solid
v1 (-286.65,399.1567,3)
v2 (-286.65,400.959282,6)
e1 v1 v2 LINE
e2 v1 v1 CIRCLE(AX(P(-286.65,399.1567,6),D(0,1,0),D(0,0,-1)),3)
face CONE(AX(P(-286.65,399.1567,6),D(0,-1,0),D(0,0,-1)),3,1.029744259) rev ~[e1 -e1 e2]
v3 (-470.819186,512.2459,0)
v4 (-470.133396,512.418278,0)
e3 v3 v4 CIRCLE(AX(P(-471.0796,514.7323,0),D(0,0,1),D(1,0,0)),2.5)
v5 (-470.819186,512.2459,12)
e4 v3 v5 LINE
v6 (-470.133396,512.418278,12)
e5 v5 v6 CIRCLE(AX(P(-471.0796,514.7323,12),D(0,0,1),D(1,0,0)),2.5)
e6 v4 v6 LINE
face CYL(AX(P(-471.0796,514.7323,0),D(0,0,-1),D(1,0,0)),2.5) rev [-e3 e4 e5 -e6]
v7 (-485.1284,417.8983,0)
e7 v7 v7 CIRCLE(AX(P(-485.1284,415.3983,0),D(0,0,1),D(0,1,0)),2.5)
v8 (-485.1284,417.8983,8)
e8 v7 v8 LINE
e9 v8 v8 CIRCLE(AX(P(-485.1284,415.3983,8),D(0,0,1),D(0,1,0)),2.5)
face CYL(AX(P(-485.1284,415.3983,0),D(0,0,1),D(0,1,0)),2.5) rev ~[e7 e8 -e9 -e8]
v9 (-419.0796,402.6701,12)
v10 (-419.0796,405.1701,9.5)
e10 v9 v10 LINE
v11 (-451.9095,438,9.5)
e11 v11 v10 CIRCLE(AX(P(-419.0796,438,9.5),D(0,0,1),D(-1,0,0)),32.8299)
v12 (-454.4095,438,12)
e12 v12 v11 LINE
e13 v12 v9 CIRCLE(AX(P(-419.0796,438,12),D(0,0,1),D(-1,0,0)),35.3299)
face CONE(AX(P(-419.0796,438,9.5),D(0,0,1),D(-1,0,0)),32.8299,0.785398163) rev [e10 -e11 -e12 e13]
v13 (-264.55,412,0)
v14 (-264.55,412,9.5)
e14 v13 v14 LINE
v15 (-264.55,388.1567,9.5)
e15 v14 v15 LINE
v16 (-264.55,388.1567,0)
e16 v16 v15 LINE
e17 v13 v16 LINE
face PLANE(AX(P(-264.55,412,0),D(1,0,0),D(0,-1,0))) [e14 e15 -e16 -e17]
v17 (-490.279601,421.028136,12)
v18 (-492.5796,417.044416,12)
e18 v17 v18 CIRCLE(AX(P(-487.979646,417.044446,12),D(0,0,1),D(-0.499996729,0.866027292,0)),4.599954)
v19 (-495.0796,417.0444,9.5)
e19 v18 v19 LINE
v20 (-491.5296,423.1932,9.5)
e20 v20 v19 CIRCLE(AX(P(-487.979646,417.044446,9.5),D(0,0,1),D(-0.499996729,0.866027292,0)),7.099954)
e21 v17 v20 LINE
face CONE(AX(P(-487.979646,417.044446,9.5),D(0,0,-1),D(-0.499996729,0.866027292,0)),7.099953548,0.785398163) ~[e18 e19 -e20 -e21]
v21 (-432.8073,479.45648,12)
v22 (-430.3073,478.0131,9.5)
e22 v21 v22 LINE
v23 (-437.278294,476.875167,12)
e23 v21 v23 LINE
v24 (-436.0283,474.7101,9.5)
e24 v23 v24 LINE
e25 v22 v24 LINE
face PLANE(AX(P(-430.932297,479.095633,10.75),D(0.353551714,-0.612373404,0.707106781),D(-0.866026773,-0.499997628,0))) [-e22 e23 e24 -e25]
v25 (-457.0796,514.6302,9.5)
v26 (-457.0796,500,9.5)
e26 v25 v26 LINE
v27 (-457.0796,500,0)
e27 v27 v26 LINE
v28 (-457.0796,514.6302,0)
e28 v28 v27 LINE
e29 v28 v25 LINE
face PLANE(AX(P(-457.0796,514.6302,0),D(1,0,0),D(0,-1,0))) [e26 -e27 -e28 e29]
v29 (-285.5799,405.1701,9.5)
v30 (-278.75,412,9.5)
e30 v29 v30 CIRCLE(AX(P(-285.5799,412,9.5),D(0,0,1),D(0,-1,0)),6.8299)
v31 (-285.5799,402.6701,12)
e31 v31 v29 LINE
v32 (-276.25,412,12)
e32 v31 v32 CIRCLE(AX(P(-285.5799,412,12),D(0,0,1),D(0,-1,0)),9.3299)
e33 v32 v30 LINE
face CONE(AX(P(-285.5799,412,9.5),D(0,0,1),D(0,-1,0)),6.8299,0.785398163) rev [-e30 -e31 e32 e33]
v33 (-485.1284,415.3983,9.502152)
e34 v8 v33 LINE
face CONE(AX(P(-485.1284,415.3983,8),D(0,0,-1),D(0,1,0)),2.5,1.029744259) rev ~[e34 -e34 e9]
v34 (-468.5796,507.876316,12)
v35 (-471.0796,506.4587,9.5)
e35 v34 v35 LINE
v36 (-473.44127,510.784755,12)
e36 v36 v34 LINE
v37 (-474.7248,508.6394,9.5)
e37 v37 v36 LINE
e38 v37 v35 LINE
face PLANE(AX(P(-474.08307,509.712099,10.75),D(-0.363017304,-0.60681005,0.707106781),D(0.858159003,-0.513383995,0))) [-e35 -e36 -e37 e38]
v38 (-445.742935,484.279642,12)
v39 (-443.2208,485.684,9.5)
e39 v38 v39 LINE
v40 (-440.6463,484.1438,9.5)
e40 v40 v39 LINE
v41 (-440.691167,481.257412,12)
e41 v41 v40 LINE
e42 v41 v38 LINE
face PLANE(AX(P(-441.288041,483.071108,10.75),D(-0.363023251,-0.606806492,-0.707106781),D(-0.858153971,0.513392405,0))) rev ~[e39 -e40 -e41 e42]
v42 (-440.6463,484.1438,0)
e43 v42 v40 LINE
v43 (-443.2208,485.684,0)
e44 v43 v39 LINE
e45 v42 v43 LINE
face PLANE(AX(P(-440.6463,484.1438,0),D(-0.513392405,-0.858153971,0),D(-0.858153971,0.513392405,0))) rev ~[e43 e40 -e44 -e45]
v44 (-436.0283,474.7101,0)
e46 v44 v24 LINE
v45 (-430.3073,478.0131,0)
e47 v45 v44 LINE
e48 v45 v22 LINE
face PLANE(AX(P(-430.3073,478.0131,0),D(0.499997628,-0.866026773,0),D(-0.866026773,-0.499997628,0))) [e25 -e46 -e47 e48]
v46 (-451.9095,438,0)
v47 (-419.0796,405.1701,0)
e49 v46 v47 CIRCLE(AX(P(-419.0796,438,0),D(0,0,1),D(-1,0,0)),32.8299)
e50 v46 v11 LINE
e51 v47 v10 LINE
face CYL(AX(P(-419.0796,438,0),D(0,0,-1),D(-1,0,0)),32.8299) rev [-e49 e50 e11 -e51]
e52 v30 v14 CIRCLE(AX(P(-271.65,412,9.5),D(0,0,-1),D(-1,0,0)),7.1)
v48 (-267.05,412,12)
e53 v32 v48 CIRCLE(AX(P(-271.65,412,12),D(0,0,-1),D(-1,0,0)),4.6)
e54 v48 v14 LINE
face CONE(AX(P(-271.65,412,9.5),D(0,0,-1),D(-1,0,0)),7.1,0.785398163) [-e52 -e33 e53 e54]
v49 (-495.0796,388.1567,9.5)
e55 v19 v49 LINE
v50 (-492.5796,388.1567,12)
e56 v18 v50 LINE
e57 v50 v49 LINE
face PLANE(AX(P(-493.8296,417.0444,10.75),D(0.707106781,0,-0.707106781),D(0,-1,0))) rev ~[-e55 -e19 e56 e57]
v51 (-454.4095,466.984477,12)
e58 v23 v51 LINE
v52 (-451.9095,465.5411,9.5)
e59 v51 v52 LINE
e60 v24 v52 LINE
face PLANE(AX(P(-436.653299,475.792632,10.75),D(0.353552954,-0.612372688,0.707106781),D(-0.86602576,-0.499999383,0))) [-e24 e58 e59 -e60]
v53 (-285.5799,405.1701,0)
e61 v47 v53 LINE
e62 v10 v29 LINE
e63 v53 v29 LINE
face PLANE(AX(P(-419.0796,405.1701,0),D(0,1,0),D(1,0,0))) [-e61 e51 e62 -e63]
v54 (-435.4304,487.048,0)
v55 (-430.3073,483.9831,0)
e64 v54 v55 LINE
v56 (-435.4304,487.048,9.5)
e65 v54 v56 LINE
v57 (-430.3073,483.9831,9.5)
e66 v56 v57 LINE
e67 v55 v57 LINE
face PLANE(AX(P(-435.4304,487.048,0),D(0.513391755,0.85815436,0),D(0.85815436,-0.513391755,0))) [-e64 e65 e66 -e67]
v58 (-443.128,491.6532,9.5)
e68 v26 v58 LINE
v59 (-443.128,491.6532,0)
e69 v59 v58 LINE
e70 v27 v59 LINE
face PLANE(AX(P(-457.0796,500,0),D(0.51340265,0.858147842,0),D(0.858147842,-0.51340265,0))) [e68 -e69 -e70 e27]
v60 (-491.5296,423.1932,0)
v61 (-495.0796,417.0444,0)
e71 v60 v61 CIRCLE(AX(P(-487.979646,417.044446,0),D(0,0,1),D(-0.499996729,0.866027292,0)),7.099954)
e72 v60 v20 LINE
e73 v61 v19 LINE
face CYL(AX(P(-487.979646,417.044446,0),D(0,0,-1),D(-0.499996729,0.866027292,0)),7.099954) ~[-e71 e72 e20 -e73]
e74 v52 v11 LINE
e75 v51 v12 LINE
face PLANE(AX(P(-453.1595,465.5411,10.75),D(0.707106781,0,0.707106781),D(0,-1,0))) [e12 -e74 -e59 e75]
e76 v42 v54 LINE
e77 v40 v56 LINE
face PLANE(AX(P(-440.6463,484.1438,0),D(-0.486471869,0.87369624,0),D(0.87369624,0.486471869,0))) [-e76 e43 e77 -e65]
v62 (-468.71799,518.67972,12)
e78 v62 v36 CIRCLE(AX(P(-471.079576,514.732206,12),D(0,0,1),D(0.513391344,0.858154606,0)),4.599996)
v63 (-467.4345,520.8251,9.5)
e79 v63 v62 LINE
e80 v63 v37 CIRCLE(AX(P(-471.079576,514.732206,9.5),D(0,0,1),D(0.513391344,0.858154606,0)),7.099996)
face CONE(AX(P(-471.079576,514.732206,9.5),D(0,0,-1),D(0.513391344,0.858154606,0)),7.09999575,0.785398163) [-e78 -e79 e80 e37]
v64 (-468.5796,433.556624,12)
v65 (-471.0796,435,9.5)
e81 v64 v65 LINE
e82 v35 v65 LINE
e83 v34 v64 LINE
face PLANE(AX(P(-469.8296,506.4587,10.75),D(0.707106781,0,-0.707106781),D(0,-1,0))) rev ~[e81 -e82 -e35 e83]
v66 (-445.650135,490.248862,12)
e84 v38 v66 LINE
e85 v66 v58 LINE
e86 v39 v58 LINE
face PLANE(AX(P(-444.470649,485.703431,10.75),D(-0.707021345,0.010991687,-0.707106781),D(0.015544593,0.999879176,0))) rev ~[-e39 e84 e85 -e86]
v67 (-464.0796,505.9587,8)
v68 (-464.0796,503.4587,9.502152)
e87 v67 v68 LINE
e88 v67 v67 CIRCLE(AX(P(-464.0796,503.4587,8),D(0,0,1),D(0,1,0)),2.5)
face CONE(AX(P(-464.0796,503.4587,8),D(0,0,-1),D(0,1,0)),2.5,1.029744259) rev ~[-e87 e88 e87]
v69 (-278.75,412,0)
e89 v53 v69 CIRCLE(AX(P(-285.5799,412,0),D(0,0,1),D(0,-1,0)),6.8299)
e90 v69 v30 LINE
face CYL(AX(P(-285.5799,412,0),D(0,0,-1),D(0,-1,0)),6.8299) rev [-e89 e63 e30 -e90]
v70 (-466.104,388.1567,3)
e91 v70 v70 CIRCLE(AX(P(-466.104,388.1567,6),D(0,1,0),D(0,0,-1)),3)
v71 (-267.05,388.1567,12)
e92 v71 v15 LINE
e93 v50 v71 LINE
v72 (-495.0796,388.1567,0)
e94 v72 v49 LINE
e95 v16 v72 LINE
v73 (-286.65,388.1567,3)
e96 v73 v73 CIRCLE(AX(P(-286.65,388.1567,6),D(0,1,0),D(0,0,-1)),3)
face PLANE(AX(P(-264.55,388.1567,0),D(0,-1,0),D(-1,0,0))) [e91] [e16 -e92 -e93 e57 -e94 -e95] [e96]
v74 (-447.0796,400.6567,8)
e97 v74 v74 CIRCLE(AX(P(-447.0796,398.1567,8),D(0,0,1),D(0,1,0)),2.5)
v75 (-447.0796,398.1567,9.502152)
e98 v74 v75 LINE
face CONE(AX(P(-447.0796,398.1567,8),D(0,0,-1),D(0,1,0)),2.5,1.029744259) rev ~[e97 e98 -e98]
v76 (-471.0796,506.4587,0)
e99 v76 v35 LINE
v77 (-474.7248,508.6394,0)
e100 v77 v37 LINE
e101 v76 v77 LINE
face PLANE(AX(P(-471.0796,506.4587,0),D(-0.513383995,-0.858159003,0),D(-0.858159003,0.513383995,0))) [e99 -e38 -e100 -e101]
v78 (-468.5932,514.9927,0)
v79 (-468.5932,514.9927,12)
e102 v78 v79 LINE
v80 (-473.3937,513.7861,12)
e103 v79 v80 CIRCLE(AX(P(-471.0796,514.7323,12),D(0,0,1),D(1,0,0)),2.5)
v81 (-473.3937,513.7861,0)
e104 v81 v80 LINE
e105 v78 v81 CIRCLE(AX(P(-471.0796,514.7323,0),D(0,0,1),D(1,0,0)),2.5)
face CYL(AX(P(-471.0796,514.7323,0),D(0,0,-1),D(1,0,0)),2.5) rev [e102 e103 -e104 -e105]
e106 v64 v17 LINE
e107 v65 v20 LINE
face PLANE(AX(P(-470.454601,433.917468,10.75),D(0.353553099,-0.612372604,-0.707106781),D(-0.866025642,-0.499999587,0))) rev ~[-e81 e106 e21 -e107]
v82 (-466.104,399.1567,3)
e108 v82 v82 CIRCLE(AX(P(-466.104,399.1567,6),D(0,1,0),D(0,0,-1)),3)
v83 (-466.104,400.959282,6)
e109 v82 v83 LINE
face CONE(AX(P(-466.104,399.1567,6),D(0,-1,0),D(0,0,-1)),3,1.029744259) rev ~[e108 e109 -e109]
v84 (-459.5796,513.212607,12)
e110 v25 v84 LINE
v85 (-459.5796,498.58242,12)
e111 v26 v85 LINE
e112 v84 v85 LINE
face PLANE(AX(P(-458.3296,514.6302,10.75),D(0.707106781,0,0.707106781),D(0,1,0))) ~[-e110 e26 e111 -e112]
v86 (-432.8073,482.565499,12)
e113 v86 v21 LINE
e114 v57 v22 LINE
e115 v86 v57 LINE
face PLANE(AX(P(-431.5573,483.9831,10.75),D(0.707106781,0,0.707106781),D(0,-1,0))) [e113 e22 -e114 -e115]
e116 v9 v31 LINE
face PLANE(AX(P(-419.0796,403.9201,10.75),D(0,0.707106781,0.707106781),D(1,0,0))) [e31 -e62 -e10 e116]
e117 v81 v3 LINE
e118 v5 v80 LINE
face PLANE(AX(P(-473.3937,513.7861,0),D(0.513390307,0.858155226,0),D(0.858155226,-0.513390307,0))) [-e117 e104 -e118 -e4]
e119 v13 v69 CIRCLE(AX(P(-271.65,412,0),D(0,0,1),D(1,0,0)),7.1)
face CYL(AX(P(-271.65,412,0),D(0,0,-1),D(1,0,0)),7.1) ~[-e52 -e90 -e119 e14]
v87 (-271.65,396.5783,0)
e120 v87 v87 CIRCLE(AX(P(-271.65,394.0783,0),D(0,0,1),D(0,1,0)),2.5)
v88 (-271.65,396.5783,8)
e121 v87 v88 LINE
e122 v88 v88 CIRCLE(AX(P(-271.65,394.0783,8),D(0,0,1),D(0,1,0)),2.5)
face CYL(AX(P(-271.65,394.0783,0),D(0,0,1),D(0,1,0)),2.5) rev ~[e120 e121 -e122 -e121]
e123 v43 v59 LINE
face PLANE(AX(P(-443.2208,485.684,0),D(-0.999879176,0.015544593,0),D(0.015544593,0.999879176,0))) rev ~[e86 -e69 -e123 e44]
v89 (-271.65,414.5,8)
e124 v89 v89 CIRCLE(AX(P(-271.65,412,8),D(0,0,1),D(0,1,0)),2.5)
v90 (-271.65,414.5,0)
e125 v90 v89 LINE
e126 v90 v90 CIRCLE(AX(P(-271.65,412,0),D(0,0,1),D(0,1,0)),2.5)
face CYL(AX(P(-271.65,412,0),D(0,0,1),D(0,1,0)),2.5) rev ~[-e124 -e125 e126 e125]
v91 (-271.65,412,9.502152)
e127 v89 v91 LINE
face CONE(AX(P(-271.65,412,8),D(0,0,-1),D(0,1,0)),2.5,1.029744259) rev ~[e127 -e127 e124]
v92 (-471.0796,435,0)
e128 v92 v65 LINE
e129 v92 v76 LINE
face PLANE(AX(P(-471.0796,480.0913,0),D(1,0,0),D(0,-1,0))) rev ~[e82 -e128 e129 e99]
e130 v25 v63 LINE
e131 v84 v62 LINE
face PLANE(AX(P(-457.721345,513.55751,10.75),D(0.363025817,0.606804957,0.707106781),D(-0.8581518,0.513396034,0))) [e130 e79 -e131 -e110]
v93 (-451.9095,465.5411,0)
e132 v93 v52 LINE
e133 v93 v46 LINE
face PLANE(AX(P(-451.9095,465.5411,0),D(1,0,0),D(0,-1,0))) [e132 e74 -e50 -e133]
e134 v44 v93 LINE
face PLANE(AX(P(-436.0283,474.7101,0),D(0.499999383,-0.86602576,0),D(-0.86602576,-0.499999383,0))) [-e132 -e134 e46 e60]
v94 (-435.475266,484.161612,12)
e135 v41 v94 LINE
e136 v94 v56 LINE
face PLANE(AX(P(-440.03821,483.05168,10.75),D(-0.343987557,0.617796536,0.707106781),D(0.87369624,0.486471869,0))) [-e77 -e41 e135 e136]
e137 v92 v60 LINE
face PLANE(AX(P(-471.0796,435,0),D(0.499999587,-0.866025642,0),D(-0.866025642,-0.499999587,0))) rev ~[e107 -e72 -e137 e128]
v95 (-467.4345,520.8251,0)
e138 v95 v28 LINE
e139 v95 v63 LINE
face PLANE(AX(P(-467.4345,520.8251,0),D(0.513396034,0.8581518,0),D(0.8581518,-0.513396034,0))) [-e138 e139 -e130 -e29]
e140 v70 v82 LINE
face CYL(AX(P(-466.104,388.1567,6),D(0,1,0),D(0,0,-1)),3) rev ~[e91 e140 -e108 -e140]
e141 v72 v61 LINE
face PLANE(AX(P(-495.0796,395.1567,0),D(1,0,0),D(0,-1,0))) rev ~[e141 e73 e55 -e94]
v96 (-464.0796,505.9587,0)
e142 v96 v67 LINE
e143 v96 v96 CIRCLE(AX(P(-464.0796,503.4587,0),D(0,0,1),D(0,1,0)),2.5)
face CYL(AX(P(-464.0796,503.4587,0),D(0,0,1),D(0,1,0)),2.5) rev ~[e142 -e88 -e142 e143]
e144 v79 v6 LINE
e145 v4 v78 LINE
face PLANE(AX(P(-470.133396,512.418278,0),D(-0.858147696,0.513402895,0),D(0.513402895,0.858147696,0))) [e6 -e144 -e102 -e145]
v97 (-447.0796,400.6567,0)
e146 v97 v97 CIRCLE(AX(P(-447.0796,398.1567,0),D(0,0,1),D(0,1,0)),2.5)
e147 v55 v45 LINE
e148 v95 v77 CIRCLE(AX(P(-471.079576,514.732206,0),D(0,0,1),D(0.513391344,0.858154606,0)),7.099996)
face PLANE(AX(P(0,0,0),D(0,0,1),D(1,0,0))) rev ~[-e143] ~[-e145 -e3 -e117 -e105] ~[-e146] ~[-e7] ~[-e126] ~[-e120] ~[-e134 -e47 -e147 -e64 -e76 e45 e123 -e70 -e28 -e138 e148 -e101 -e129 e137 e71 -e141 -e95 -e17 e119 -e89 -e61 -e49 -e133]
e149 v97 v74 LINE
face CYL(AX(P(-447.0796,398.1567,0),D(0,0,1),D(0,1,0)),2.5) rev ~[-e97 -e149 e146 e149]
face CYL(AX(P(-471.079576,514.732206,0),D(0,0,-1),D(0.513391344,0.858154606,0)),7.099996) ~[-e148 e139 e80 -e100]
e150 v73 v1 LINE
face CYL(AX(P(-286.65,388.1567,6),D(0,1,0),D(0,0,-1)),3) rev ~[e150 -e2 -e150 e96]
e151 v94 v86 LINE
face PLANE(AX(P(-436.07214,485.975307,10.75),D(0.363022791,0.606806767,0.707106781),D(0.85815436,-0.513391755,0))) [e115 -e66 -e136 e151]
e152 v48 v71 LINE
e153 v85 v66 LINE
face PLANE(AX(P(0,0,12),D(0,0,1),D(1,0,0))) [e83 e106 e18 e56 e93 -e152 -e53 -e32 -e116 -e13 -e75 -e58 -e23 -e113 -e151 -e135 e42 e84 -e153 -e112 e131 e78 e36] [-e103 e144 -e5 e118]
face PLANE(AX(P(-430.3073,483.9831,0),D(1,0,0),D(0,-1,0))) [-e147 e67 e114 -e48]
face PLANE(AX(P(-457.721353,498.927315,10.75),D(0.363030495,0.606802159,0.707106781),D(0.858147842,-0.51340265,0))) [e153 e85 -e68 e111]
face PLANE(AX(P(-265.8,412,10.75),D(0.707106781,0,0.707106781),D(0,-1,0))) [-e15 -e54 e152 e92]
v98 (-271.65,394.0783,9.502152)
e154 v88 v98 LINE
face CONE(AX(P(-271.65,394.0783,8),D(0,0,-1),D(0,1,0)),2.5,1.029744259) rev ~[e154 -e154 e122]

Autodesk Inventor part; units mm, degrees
ref_plane "YZ Plane" through (0, 0, 0) normal (1, 0, 0) x (0, 1, 0)
ref_plane "XZ Plane" through (0, 0, 0) normal (0, 1, 0) x (-1, 0, 0)
ref_plane "XY Plane" through (0, 0, 0) normal (0, 0, 1) x (1, 0, 0)
sketch "Sketch3" plane through (0, 0, 0) normal (0, 0, 1) x (1, 0, 0)
  circle A0 centre (367.816, 50) radius 50 construction
  line L0 (367.816, 0) -> (512.7041, 0) construction
  line L1 (367.816, 50) -> (512.7041, 50) construction
  line L2 (367.816, 100) -> (512.7041, 100) construction
  line L3 (367.816, 50) -> (342.816, 6.6987) construction
  line L4 (367.816, 50) -> (324.5147, 25) construction
  line L5 (367.816, 50) -> (324.5147, 75) construction
  line L6 (342.816, 93.3013) -> (367.816, 50) construction
  line L7 (392.816, 93.3013) -> (367.816, 50) construction
  line L8 (411.1173, 75) -> (367.816, 50) construction
  line L9 (411.1173, 25) -> (367.816, 50) construction
  line L10 (392.816, 6.6987) -> (367.816, 50) construction
  line L11 (367.816, 0) -> (367.816, 100) construction
  line L12 (417.816, 50) -> (367.816, 50) construction
  line L13 (341.6361, 0) -> (341.6361, 100) construction
  line L14 (315.4561, 0) -> (315.4561, 100) construction
  line L15 (289.2762, 0) -> (289.2762, 100) construction
  line L16 (263.0963, 0) -> (263.0963, 100) construction
  line L17 (236.9163, 0) -> (236.9163, 100) construction
  line L18 (210.7364, 0) -> (210.7364, 100) construction
  line L19 (184.5564, 0) -> (184.5564, 100) construction
  line L20 (158.3765, 0) -> (158.3765, 100) construction
  circle A1 centre (315.4561, 50) radius 50 construction
  circle A2 centre (341.6361, 50) radius 50 construction
  circle A3 centre (289.2762, 50) radius 50 construction
  circle A4 centre (263.0963, 50) radius 50 construction
  circle A5 centre (236.9163, 50) radius 50 construction
  circle A6 centre (210.7364, 50) radius 50 construction
  line L21 (392.816, 6.6987) -> (512.7041, 6.6987) construction
  line L22 (411.1173, 25) -> (512.7041, 25) construction
  line L23 (411.1173, 75) -> (512.7041, 75) construction
  line L24 (411.1173, 75) -> (512.7041, 75) construction
  line L25 (392.816, 93.3013) -> (512.7041, 93.3013) construction
  line L26 (358.7574, 75) -> (339.2762, 50) construction
  line L27 (339.2762, 50) -> (306.3975, 25) construction
  line L28 (306.3975, 25) -> (261.9163, 6.6987) construction
  line L29 (261.9163, 6.6987) -> (210.7364, 0) construction
  line L30 (105.3682, -12.9392) -> (105.3682, 124.4333) construction
  line L31 (21.25, 0) -> (21.25, 12)
  line L32 (35.45, 12) -> (35.45, -11.8433)
  arc A7 (0, 0) -> (6.625, -9.8433) centre (10.625, 0) ccw
  arc A8 (14.625, -9.8433) -> (21.25, 0) centre (10.625, 0) ccw
  line L33 (35.45, -11.8433) -> (14.625, -11.8433)
  line L34 (6.625, -11.8433) -> (-195.0796, -11.8433)
  circle A9 centre (-144.26, 100.8473) radius 12.875 construction
  line L35 (6.625, -11.8433) -> (6.625, -9.8433)
  line L36 (14.625, -11.8433) -> (14.625, -9.8433)
  line L37 (411.1173, 75) -> (158.3765, 75) construction
  line L38 (367.816, 100) -> (158.3765, 100) construction
  line L39 (417.816, 50) -> (158.3765, 50) construction
  line L40 (411.1173, 25) -> (158.3765, 25) construction
  line L41 (392.816, 6.6987) -> (158.3765, 6.6987) construction
  line L42 (392.816, 93.3013) -> (158.3765, 93.3013) construction
  line L43 (358.7574, 75) -> (366.6361, 93.3013) construction
  line L44 (366.6361, 93.3013) -> (367.816, 100) construction
  spline S0 degree 4 poles (-157.0796, 100) (-157.0796, 88.9946) (-147.011, 72.6811) (-131.8577, 48.7932) (-88.4777, 17.6268) (-50.0176, 3.937) (-18.8717, 0) (0, 0) knots 0 0 0 0 0 0.264547 0.457223 0.66608 1 1 1 1 1
  line L45 (-157.0796, 100) -> (-157.0796, 38) construction
  line L46 (0, 0) -> (-157.0796, 0) construction
  line L47 (-144.26, 100.8473) -> (-157.135, 100.8473) construction
  circle A10 centre (-146.4546, 100) radius 10.625 construction
  line L48 (-146.4546, 100) -> (-157.0796, 100) construction
  line L49 (-141.0754, 84.4005) -> (-135.6205, 93.5183) construction
  line L50 (-141.0796, 132.0528) -> (-171.0796, 149.3733) construction
  line L51 (-171.0796, 149.3733) -> (-201.0796, 132.0528) construction
  line L52 (-141.0754, 84.4005) -> (-99.2801, 84.4005) construction
  line L53 (-201.0796, 132.0528) -> (-201.0796, 97.4118) construction
  line L54 (-201.0796, 97.4118) -> (-171.0796, 80.0913) construction
  line L55 (0, 0) -> (-157.0796, 93.9753) construction
  line L56 (-135.6205, 93.5183) -> (-137.3368, 94.5451) construction
  line L57 (-137.3368, 94.5451) -> (-143.2815, 84.6085) construction
  line L58 (-137.3368, 94.5451) -> (-171.0796, 114.7323) construction
  line L59 (-201.0796, 132.0528) -> (-171.0796, 114.7323) construction
  arc A11 (-137.3368, 94.5451) -> (-144.7045, 143.8948) centre (-171.0796, 114.7323) ccw construction
  arc A12 (-142.7917, 85.4273) -> (-147.1443, 147.6882) centre (-171.0796, 114.7323) ccw construction
  line L60 (-171.0796, 80.0913) -> (-171.0796, 35)
  circle A13 centre (-171.0796, 114.7323) radius 2.5
  arc A14 (-167.4345, 120.8251) -> (-174.7248, 108.6394) centre (-171.0796, 114.7323) ccw
  line L61 (-167.4345, 120.8251) -> (-157.0796, 114.6302)
  line L62 (-171.0796, 80.0913) -> (-171.0796, 106.4587)
  line L63 (-171.0796, 106.4587) -> (-174.7248, 108.6394)
  line L64 (-171.0796, 35) -> (-191.5296, 23.1932)
  arc A15 (-191.5296, 23.1932) -> (-195.0796, 17.0444) centre (-187.9796, 17.0444) ccw
  line L65 (-195.0796, 17.0444) -> (-195.0796, -11.8433)
  arc A16 (35.45, 12) -> (21.25, 12) centre (28.35, 12) ccw
  line L66 (-157.0796, 114.6302) -> (-157.0796, 99.9865)
  circle A17 centre (-164.0796, 103.4587) radius 2.5
  line L67 (-171.0796, 103.4587) -> (-157.0796, 103.4587) construction
  circle A18 centre (-185.1284, 15.3983) radius 2.5
  line L68 (-185.1284, 15.3983) -> (-194.1284, 20.5944) construction
  circle A19 centre (-6, -5.9217) radius 2.5
  line L69 (-6, -11.8433) -> (-6, 0) construction
  circle A20 centre (28.35, 12) radius 2.5
  circle A21 centre (28.35, -5.9217) radius 2.5
  line L70 (-167.4345, 320.8251) -> (-157.0796, 314.6302)
  arc A22 (-167.4345, 320.8251) -> (-174.7248, 308.6394) centre (-171.0796, 314.7323) ccw
  circle A23 centre (-171.0796, 314.7323) radius 2.5
  line L71 (-171.0796, 280.0913) -> (-171.0796, 306.4587)
  line L72 (-171.0796, 306.4587) -> (-174.7248, 308.6394)
  line L73 (-157.0796, 314.6302) -> (-157.0796, 299.9865)
  circle A24 centre (-164.0796, 303.4587) radius 2.5
  spline S1 degree 4 poles (-157.0796, 300) (-157.0796, 288.9946) (-147.0234, 272.6841) (-124.1789, 236.7977) (-70.8039, 208.0704) (-31.8865, 200.2943) (0, 200) knots 0 0 0 0 0 0.264547 0.457223 1 1 1 1 1 construction
  line L74 (-157.0796, 300) -> (-157.0796, 238) construction
  arc A25 (0, 200) -> (6.625, 190.1567) centre (10.625, 200) ccw
  line L75 (35.45, 212) -> (35.45, 188.1567)
  circle A26 centre (28.35, 212) radius 2.5
  circle A27 centre (28.35, 194.0783) radius 2.5
  arc A28 (35.45, 212) -> (21.25, 212) centre (28.35, 212) ccw
  line L76 (21.25, 200) -> (21.25, 212)
  line L77 (35.45, 188.1567) -> (14.625, 188.1567)
  arc A29 (14.625, 190.1567) -> (21.25, 200) centre (10.625, 200) ccw
  line L78 (14.625, 188.1567) -> (14.625, 190.1567)
  line L79 (-185.1284, 215.3983) -> (-194.1284, 220.5944) construction
  arc A30 (-191.5296, 223.1932) -> (-195.0796, 217.0444) centre (-187.9796, 217.0444) ccw
  line L80 (-195.0796, 217.0444) -> (-195.0796, 188.1567)
  line L81 (-171.0796, 235) -> (-191.5296, 223.1932)
  circle A31 centre (-185.1284, 215.3983) radius 2.5
  line L82 (-171.0796, 280.0913) -> (-171.0796, 235)
  line L83 (6.625, 188.1567) -> (-195.0796, 188.1567)
  line L84 (6.625, 188.1567) -> (6.625, 190.1567)
  line L85 (-137.3368, 294.5451) -> (-143.2815, 284.6085) construction
  line L86 (-141.0754, 284.4005) -> (-135.6205, 293.5183) construction
  line L87 (0, 200) -> (-157.0796, 293.9753)
  line L88 (-167.4345, 520.8251) -> (-157.0796, 514.6302)
  arc A32 (-167.4345, 520.8251) -> (-174.7248, 508.6394) centre (-171.0796, 514.7323) ccw
  circle A33 centre (-171.0796, 514.7323) radius 2.5
  line L89 (-171.0796, 480.0913) -> (-171.0796, 506.4587)
  line L90 (-171.0796, 506.4587) -> (-174.7248, 508.6394)
  line L91 (-157.0796, 514.6302) -> (-157.0796, 499.9865)
  circle A34 centre (-164.0796, 503.4587) radius 2.5
  spline S2 degree 4 poles (-157.0796, 500) (-157.0796, 488.9946) (-147.0234, 472.6841) (-124.1789, 436.7977) (-70.8039, 408.0704) (-31.8865, 400.2943) (0, 400) knots 0 0 0 0 0 0.264547 0.457223 1 1 1 1 1 construction
  line L92 (-157.0796, 500) -> (-157.0796, 438)
  arc A35 (0, 400) -> (6.625, 390.1567) centre (10.625, 400) ccw
  line L93 (35.45, 412) -> (35.45, 388.1567)
  circle A36 centre (28.35, 412) radius 2.5
  circle A37 centre (28.35, 394.0783) radius 2.5
  arc A38 (35.45, 412) -> (21.25, 412) centre (28.35, 412) ccw
  line L94 (21.25, 400) -> (21.25, 412)
  line L95 (35.45, 388.1567) -> (14.625, 388.1567)
  arc A39 (14.625, 390.1567) -> (21.25, 400) centre (10.625, 400) ccw
  line L96 (14.625, 388.1567) -> (14.625, 390.1567)
  line L97 (-185.1284, 415.3983) -> (-194.1284, 420.5944) construction
  arc A40 (-191.5296, 423.1932) -> (-195.0796, 417.0444) centre (-187.9796, 417.0444) ccw
  line L98 (-195.0796, 417.0444) -> (-195.0796, 388.1567)
  line L99 (-171.0796, 435) -> (-191.5296, 423.1932)
  circle A41 centre (-185.1284, 415.3983) radius 2.5
  line L100 (-171.0796, 480.0913) -> (-171.0796, 435)
  line L101 (6.625, 388.1567) -> (-195.0796, 388.1567)
  line L102 (6.625, 388.1567) -> (6.625, 390.1567)
  line L103 (-137.3368, 494.5451) -> (-143.2815, 484.6085) construction
  line L104 (-141.0754, 484.4005) -> (-135.6205, 493.5183) construction
  line L105 (0, 400) -> (-157.0796, 493.9753) construction
  line L106 (-467.4345, 120.8251) -> (-457.0796, 114.6302)
  arc A42 (-467.4345, 120.8251) -> (-474.7248, 108.6394) centre (-471.0796, 114.7323) ccw
  circle A43 centre (-471.0796, 114.7323) radius 2.5
  line L107 (-471.0796, 80.0913) -> (-471.0796, 106.4587)
  line L108 (-471.0796, 106.4587) -> (-474.7248, 108.6394)
  line L109 (-457.0796, 114.6302) -> (-457.0796, 99.9865)
  circle A44 centre (-464.0796, 103.4587) radius 2.5
  spline S3 degree 4 poles (-457.0796, 100) (-457.0796, 88.9946) (-447.0234, 72.6841) (-424.1789, 36.7977) (-370.8039, 8.0704) (-331.8865, 0.2943) (-300, 0) knots 0 0 0 0 0 0.264547 0.457223 1 1 1 1 1 construction
  line L110 (-457.0796, 100) -> (-457.0796, 38) construction
  arc A45 (-300, 0) -> (-293.375, -9.8433) centre (-289.375, 0) ccw construction
  line L111 (-264.55, 12) -> (-264.55, -11.8433)
  circle A46 centre (-271.65, 12) radius 2.5
  circle A47 centre (-271.65, -5.9217) radius 2.5
  arc A48 (-264.55, 12) -> (-278.75, 12) centre (-271.65, 12) ccw
  line L112 (-278.75, 0) -> (-278.75, 12) construction
  line L113 (-264.55, -11.8433) -> (-285.375, -11.8433)
  arc A49 (-285.375, -9.8433) -> (-278.75, 0) centre (-289.375, 0) ccw construction
  line L114 (-285.375, -11.8433) -> (-285.375, -9.8433) construction
  line L115 (-485.1284, 15.3983) -> (-494.1284, 20.5944) construction
  arc A50 (-491.5296, 23.1932) -> (-495.0796, 17.0444) centre (-487.9796, 17.0444) ccw
  line L116 (-495.0796, 17.0444) -> (-495.0796, -11.8433)
  line L117 (-471.0796, 35) -> (-491.5296, 23.1932)
  circle A51 centre (-485.1284, 15.3983) radius 2.5
  line L118 (-471.0796, 80.0913) -> (-471.0796, 35)
  line L119 (-293.375, -11.8433) -> (-495.0796, -11.8433)
  line L120 (-293.375, -11.8433) -> (-293.375, -9.8433) construction
  line L121 (-437.3368, 94.5451) -> (-443.2815, 84.6085) construction
  line L122 (-441.0754, 84.4005) -> (-435.6205, 93.5183) construction
  line L123 (-300, 0) -> (-457.0796, 93.9753) construction
  line L124 (-467.4345, 320.8251) -> (-457.0796, 314.6302)
  arc A52 (-467.4345, 320.8251) -> (-474.7248, 308.6394) centre (-471.0796, 314.7323) ccw
  circle A53 centre (-471.0796, 314.7323) radius 2.5
  line L125 (-471.0796, 280.0913) -> (-471.0796, 306.4587)
  line L126 (-471.0796, 306.4587) -> (-474.7248, 308.6394)
  line L127 (-457.0796, 314.6302) -> (-457.0796, 299.9865)
  circle A54 centre (-464.0796, 303.4587) radius 2.5
  spline S4 degree 4 poles (-457.0796, 300) (-457.0796, 288.9946) (-447.0234, 272.6841) (-424.1789, 236.7977) (-370.8039, 208.0704) (-331.8865, 200.2943) (-300, 200) knots 0 0 0 0 0 0.264547 0.457223 1 1 1 1 1 construction
  line L128 (-457.0796, 300) -> (-457.0796, 238) construction
  arc A55 (-300, 200) -> (-293.375, 190.1567) centre (-289.375, 200) ccw construction
  line L129 (-264.55, 212) -> (-264.55, 188.1567)
  circle A56 centre (-271.65, 212) radius 2.5
  circle A57 centre (-271.65, 194.0783) radius 2.5
  arc A58 (-264.55, 212) -> (-278.75, 212) centre (-271.65, 212) ccw
  line L130 (-278.75, 200) -> (-278.75, 212) construction
  line L131 (-264.55, 188.1567) -> (-285.375, 188.1567)
  arc A59 (-285.375, 190.1567) -> (-278.75, 200) centre (-289.375, 200) ccw construction
  line L132 (-285.375, 188.1567) -> (-285.375, 190.1567) construction
  line L133 (-485.1284, 215.3983) -> (-494.1284, 220.5944) construction
  arc A60 (-491.5296, 223.1932) -> (-495.0796, 217.0444) centre (-487.9796, 217.0444) ccw
  line L134 (-495.0796, 217.0444) -> (-495.0796, 188.1567)
  line L135 (-471.0796, 235) -> (-491.5296, 223.1932)
  circle A61 centre (-485.1284, 215.3983) radius 2.5
  line L136 (-471.0796, 280.0913) -> (-471.0796, 235)
  line L137 (-293.375, 188.1567) -> (-495.0796, 188.1567)
  line L138 (-293.375, 188.1567) -> (-293.375, 190.1567) construction
  line L139 (-437.3368, 294.5451) -> (-443.2815, 284.6085) construction
  line L140 (-441.0754, 284.4005) -> (-435.6205, 293.5183) construction
  line L141 (-300, 200) -> (-457.0796, 293.9753) construction
  line L142 (-467.4345, 520.8251) -> (-457.0796, 514.6302)
  arc A62 (-467.4345, 520.8251) -> (-474.7248, 508.6394) centre (-471.0796, 514.7323) ccw
  circle A63 centre (-471.0796, 514.7323) radius 2.5
  line L143 (-471.0796, 480.0913) -> (-471.0796, 506.4587)
  line L144 (-471.0796, 506.4587) -> (-474.7248, 508.6394)
  line L145 (-457.0796, 514.6302) -> (-457.0796, 499.9865)
  circle A64 centre (-464.0796, 503.4587) radius 2.5
  spline S5 degree 4 poles (-457.0796, 500) (-457.0796, 488.9946) (-447.0234, 472.6841) (-424.1789, 436.7977) (-370.8039, 408.0704) (-331.8865, 400.2943) (-300, 400) knots 0 0 0 0 0 0.264547 0.457223 1 1 1 1 1 construction
  line L146 (-457.0796, 500) -> (-457.0796, 438) construction
  arc A65 (-300, 400) -> (-293.375, 390.1567) centre (-289.375, 400) ccw construction
  line L147 (-264.55, 412) -> (-264.55, 388.1567)
  circle A66 centre (-271.65, 412) radius 2.5
  circle A67 centre (-271.65, 394.0783) radius 2.5
  arc A68 (-264.55, 412) -> (-278.75, 412) centre (-271.65, 412) ccw
  line L148 (-278.75, 400) -> (-278.75, 412) construction
  line L149 (-264.55, 388.1567) -> (-285.375, 388.1567)
  arc A69 (-285.375, 390.1567) -> (-278.75, 400) centre (-289.375, 400) ccw construction
  line L150 (-285.375, 388.1567) -> (-285.375, 390.1567) construction
  line L151 (-485.1284, 415.3983) -> (-494.1284, 420.5944) construction
  arc A70 (-491.5296, 423.1932) -> (-495.0796, 417.0444) centre (-487.9796, 417.0444) ccw
  line L152 (-495.0796, 417.0444) -> (-495.0796, 388.1567)
  line L153 (-471.0796, 435) -> (-491.5296, 423.1932)
  circle A71 centre (-485.1284, 415.3983) radius 2.5
  line L154 (-471.0796, 480.0913) -> (-471.0796, 435)
  line L155 (-293.375, 388.1567) -> (-495.0796, 388.1567)
  line L156 (-293.375, 388.1567) -> (-293.375, 390.1567) construction
  line L157 (-437.3368, 494.5451) -> (-443.2815, 484.6085) construction
  line L158 (-441.0754, 484.4005) -> (-435.6205, 493.5183) construction
  line L159 (-300, 400) -> (-457.0796, 493.9753) construction
  line L160 (-435.4304, 87.048) -> (-430.3073, 83.9831)
  line L161 (-430.3073, 83.9831) -> (-430.3073, 78.0131)
  line L162 (-457.0796, 100) -> (-443.128, 91.6532)
  line L163 (-443.2208, 85.684) -> (-443.128, 91.6532)
  line L164 (-440.6463, 84.1438) -> (-435.4304, 87.048)
  line L165 (-440.6463, 84.1438) -> (-443.2208, 85.684)
  line L166 (-430.3073, 78.0131) -> (-436.0283, 74.7101)
  line L167 (-436.0283, 74.7101) -> (-436.0283, 68.1041)
  spline S6 degree 4 poles (-439.3753, 72.7777) (-420.1522, 45.3403) (-398.6357, 22.4496) (-337.1208, 4.2654) (-300, 5.1701) knots 0 0 0 0 0 1 1 1 1 1
  line L168 (-293.375, -11.8433) -> (-285.375, -11.8433)
  line L169 (-157.0796, 293.9753) -> (-157.0796, 300)
  line L170 (-293.375, 188.1567) -> (-285.375, 188.1567)
  arc A72 (-157.0796, 438) -> (-119.0796, 400) centre (-119.0796, 438) ccw
  line L171 (-119.0796, 400) -> (0, 400)
  line L172 (-457.0796, 500) -> (-457.0796, 438) construction
  line L173 (-419.0796, 400) -> (-300, 400) construction
  arc A73 (-457.0796, 438) -> (-419.0796, 400) centre (-419.0796, 438) ccw construction
  line L174 (-457.0796, 300) -> (-443.128, 291.6532)
  line L175 (-443.2208, 285.684) -> (-443.128, 291.6532)
  line L176 (-440.6463, 284.1438) -> (-443.2208, 285.684)
  line L177 (-440.6463, 284.1438) -> (-435.4304, 287.048)
  line L178 (-435.4304, 287.048) -> (-430.3073, 283.9831)
  line L179 (-430.3073, 283.9831) -> (-430.3073, 278.0131) construction
  line L180 (-430.3073, 278.0131) -> (-436.0283, 274.7101) construction
  line L181 (-457.0796, 500) -> (-443.128, 491.6532)
  line L182 (-443.2208, 485.684) -> (-443.128, 491.6532)
  line L183 (-440.6463, 484.1438) -> (-443.2208, 485.684)
  line L184 (-440.6463, 484.1438) -> (-435.4304, 487.048)
  line L185 (-435.4304, 487.048) -> (-430.3073, 483.9831)
  line L186 (-430.3073, 483.9831) -> (-430.3073, 478.0131)
  line L187 (-430.3073, 478.0131) -> (-436.0283, 474.7101)
  line L188 (-430.3073, 283.9831) -> (-298.5715, 205.1701)
  line L189 (-293.375, 388.1567) -> (-285.375, 388.1567)
  line L190 (-300, 5.1701) -> (-285.5799, 5.1701)
  arc A74 (-285.5799, 5.1701) -> (-278.75, 12) centre (-285.5799, 12) ccw
  line L191 (-298.5715, 205.1701) -> (-285.5799, 205.1701)
  arc A75 (-285.5799, 205.1701) -> (-278.75, 212) centre (-285.5799, 212) ccw
  line L192 (-436.0283, 474.7101) -> (-451.9095, 465.5411)
  line L193 (-451.9095, 465.5411) -> (-451.9095, 438)
  arc A76 (-451.9095, 438) -> (-419.0796, 405.1701) centre (-419.0796, 438) ccw
  line L194 (-419.0796, 405.1701) -> (-285.5799, 405.1701)
  arc A77 (-285.5799, 405.1701) -> (-278.75, 412) centre (-285.5799, 412) ccw
  line L195 (-495.0796, 388.1567) -> (-514.2796, 388.1567)
  line L196 (-514.2796, 388.1567) -> (-514.2796, 392.1567)
  line L197 (-514.2796, 392.1567) -> (-498.0796, 392.1567)
  arc A78 (-498.0796, 392.1567) -> (-495.0796, 395.1567) centre (-498.0796, 395.1567) ccw
  line L198 (-495.0796, 395.1567) -> (-495.0796, 417.0444)
  line L199 (-499.0796, 388.1567) -> (-510.2796, 388.1567) construction
  line L200 (-510.2796, 388.1567) -> (-510.2796, 392.1567) construction
  line L201 (-510.2796, 392.1567) -> (-499.0796, 392.1567) construction
  line L202 (-499.0796, 392.1567) -> (-499.0796, 388.1567) construction
  line L203 (-499.0796, 388.1567) -> (-510.2796, 392.1567) construction
  line L204 (-510.2796, 388.1567) -> (-499.0796, 392.1567) construction
  arc A79 (-600, 200) -> (-593.375, 190.1567) centre (-589.375, 200) ccw construction
  line L205 (-564.55, 212) -> (-564.55, 188.1567) construction
  circle A80 centre (-571.65, 212) radius 2.5
  circle A81 centre (-571.65, 194.0783) radius 2.5
  arc A82 (-564.55, 212) -> (-578.75, 212) centre (-571.65, 212) ccw
  line L206 (-578.75, 200) -> (-578.75, 212) construction
  line L207 (-564.55, 188.1567) -> (-585.375, 188.1567)
  arc A83 (-585.375, 190.1567) -> (-578.75, 200) centre (-589.375, 200) ccw construction
  line L208 (-585.375, 188.1567) -> (-585.375, 190.1567) construction
  line L209 (-593.375, 188.1567) -> (-593.375, 190.1567) construction
  arc A84 (-585.5799, 205.1701) -> (-578.75, 212) centre (-585.5799, 212) ccw
  line L210 (-593.375, 188.1567) -> (-585.375, 188.1567)
  line L211 (-598.5715, 205.1701) -> (-585.5799, 205.1701)
  arc A85 (-791.5296, 223.1932) -> (-795.0796, 217.0444) centre (-787.9796, 217.0444) ccw
  line L212 (-785.1284, 215.3983) -> (-794.1284, 220.5944) construction
  circle A86 centre (-785.1284, 215.3983) radius 2.5
  line L213 (-771.0796, 235) -> (-791.5296, 223.1932)
  line L214 (-795.0796, 217.0444) -> (-795.0796, 188.1567) construction
  line L215 (-730.3073, 278.0131) -> (-736.0283, 274.7101) construction
  line L216 (-757.0796, 300) -> (-757.0796, 238) construction
  line L217 (-730.3073, 283.9831) -> (-730.3073, 278.0131) construction
  line L218 (-730.3073, 283.9831) -> (-598.5715, 205.1701)
  line L219 (-600, 200) -> (-757.0796, 293.9753) construction
  spline S7 degree 4 poles (-757.0796, 300) (-757.0796, 288.9946) (-747.0234, 272.6841) (-724.1789, 236.7977) (-670.8039, 208.0704) (-631.8865, 200.2943) (-600, 200) knots 0 0 0 0 0 0.264547 0.457223 1 1 1 1 1 construction
  line L220 (-593.375, 188.1567) -> (-795.0796, 188.1567)
  line L221 (-771.0796, 280.0913) -> (-771.0796, 235)
  line L222 (-757.0796, 300) -> (-743.128, 291.6532)
  line L223 (-743.2208, 285.684) -> (-743.128, 291.6532)
  line L224 (-740.6463, 284.1438) -> (-743.2208, 285.684)
  line L225 (-737.3368, 294.5451) -> (-743.2815, 284.6085) construction
  line L226 (-741.0754, 284.4005) -> (-735.6205, 293.5183) construction
  line L227 (-740.6463, 284.1438) -> (-735.4304, 287.048)
  line L228 (-735.4304, 287.048) -> (-730.3073, 283.9831)
  line L229 (-767.4345, 320.8251) -> (-757.0796, 314.6302)
  line L230 (-771.0796, 280.0913) -> (-771.0796, 306.4587)
  line L231 (-757.0796, 314.6302) -> (-757.0796, 299.9865)
  circle A87 centre (-764.0796, 303.4587) radius 2.5
  line L232 (-771.0796, 306.4587) -> (-774.7248, 308.6394)
  circle A88 centre (-771.0796, 314.7323) radius 2.5
  arc A89 (-767.4345, 320.8251) -> (-774.7248, 308.6394) centre (-771.0796, 314.7323) ccw
  line L233 (-795.0796, 188.1567) -> (-814.2796, 188.1567)
  line L234 (-814.2796, 188.1567) -> (-814.2796, 192.1567)
  line L235 (-814.2796, 192.1567) -> (-798.0796, 192.1567)
  arc A90 (-798.0796, 192.1567) -> (-795.0796, 195.1567) centre (-798.0796, 195.1567) ccw
  line L236 (-795.0796, 195.1567) -> (-795.0796, 217.0444)
  line L237 (-799.0796, 188.1567) -> (-810.2796, 188.1567) construction
  line L238 (-810.2796, 188.1567) -> (-810.2796, 192.1567) construction
  line L239 (-810.2796, 192.1567) -> (-799.0796, 192.1567) construction
  line L240 (-799.0796, 192.1567) -> (-799.0796, 188.1567) construction
  line L241 (-799.0796, 188.1567) -> (-810.2796, 192.1567) construction
  line L242 (-810.2796, 188.1567) -> (-799.0796, 192.1567) construction
  line L243 (-495.0796, 587.6927) -> (-264.55, 587.6927) construction
  line L244 (-379.8148, 587.6927) -> (-379.8148, 614.3146) construction
  line L245 (-795.0796, 438) -> (-564.55, 438) construction
  line L246 (-679.8148, 438) -> (-679.8148, 492.8294) construction
  arc A91 (-564.55, 195.1567) -> (-561.55, 192.1567) centre (-561.55, 195.1567) ccw
  line L247 (-545.35, 192.1567) -> (-561.55, 192.1567)
  line L248 (-545.35, 188.1567) -> (-545.35, 192.1567)
  line L249 (-560.55, 192.1567) -> (-560.55, 188.1567) construction
  line L250 (-560.55, 188.1567) -> (-549.35, 188.1567) construction
  line L251 (-564.55, 188.1567) -> (-545.35, 188.1567)
  line L252 (-549.35, 188.1567) -> (-549.35, 192.1567) construction
  line L253 (-549.35, 192.1567) -> (-560.55, 192.1567) construction
  line L254 (-560.55, 188.1567) -> (-549.35, 192.1567) construction
  line L255 (-549.35, 188.1567) -> (-560.55, 192.1567) construction
  line L256 (-564.55, 195.1567) -> (-564.55, 212)
  circle A92 centre (-147.0796, 398.1567) radius 2.5
  circle A93 centre (-147.0796, 198.1567) radius 2.5
  circle A94 centre (-147.0796, -1.8433) radius 2.5
  circle A95 centre (-447.0796, 398.1567) radius 2.5
  circle A96 centre (-447.0796, 198.1567) radius 2.5
  circle A97 centre (-447.0796, -1.8433) radius 2.5
  circle A98 centre (-747.0796, 398.1567) radius 2.5 construction
  circle A99 centre (-747.0796, 198.1567) radius 2.5
  circle A100 centre (-747.0796, -1.8433) radius 2.5 construction
  line L257 (-264.55, 388.1567) -> (-245.35, 388.1567)
  line L258 (-245.35, 388.1567) -> (-245.35, 392.1567)
  line L259 (-245.35, 392.1567) -> (-261.55, 392.1567)
  arc A101 (-264.55, 395.1567) -> (-261.55, 392.1567) centre (-261.55, 395.1567) ccw
  line L260 (-260.55, 388.1567) -> (-249.35, 388.1567) construction
  line L261 (-249.35, 388.1567) -> (-249.35, 392.1567) construction
  line L262 (-249.35, 392.1567) -> (-260.55, 392.1567) construction
  line L263 (-260.55, 392.1567) -> (-260.55, 388.1567) construction
  line L264 (-260.55, 388.1567) -> (-249.35, 392.1567) construction
  line L265 (-249.35, 388.1567) -> (-260.55, 392.1567) construction
  line L266 (-264.55, 412) -> (-264.55, 395.1567)
  circle A102 centre (-471.0796, 114.7323) radius 2 construction
  line L267 (-473.3937, 113.7861) -> (-470.3901, 111.9892)
  line L268 (-470.3901, 111.9892) -> (-468.5932, 114.9927)
  circle A103 centre (-471.0796, 514.7323) radius 2
  line L269 (-473.3937, 513.7861) -> (-470.3901, 511.9892)
  line L270 (-470.3901, 511.9892) -> (-468.5932, 514.9927)
  point P0 (158.3765, 0)
  point P1 (-148.021, 75)
  point P2 (-128.5398, 50)
  point P3 (-95.6611, 25)
  point P4 (-51.1799, 6.6987)
  point P5 (-155.8997, 93.3013)
  point P6 (-148.021, 275)
  point P7 (-128.5398, 250)
  point P8 (-95.6611, 225)
  point P9 (-51.1799, 206.6987)
  point P10 (-157.0796, 303.4587)
  point P11 (-157.0796, 200)
  point P12 (-171.0796, 303.4587)
  point P13 (-6, 188.1567)
  point P14 (-142.7917, 285.4273)
  point P15 (-148.021, 475)
  point P16 (-128.5398, 450)
  point P17 (-95.6611, 425)
  point P18 (-51.1799, 406.6987)
  point P19 (-157.0796, 503.4587)
  point P20 (-157.0796, 400)
  point P21 (-171.0796, 503.4587)
  point P22 (-6, 388.1567)
  point P23 (-142.7917, 485.4273)
  point P24 (-448.021, 75)
  point P25 (-428.5398, 50)
  point P26 (-395.6611, 25)
  point P27 (-351.1799, 6.6987)
  point P28 (-457.0796, 103.4587)
  point P29 (-457.0796, 0)
  point P30 (-471.0796, 103.4587)
  point P31 (-306, -11.8433)
  point P32 (-442.7917, 85.4273)
  point P33 (-448.021, 275)
  point P34 (-428.5398, 250)
  point P35 (-395.6611, 225)
  point P36 (-351.1799, 206.6987)
  point P37 (-457.0796, 303.4587)
  point P38 (-457.0796, 200)
  point P39 (-471.0796, 303.4587)
  point P40 (-306, 188.1567)
  point P41 (-442.7917, 285.4273)
  point P42 (-448.021, 475)
  point P43 (-428.5398, 450)
  point P44 (-395.6611, 425)
  point P45 (-351.1799, 406.6987)
  point P46 (-457.0796, 503.4587)
  point P47 (-457.0796, 400)
  point P48 (-471.0796, 503.4587)
  point P49 (-306, 388.1567)
  point P50 (-442.7917, 485.4273)
  point P51 (-421.2258, 50.7726)
  point P52 (-392.6255, 29.6644)
  point P53 (-346.6709, 11.6004)
  point P54 (-436.0267, 68.102)
  point P55 (-457.0796, 503.4587)
  point P56 (-504.6796, 390.1567)
  point P57 (-606, 188.1567)
  point P58 (-757.0796, 200)
  point P59 (-748.021, 275)
  point P60 (-728.5398, 250)
  point P61 (-757.0796, 303.4587)
  point P62 (-695.6611, 225)
  point P63 (-651.1799, 206.6987)
  point P64 (-742.7917, 285.4273)
  point P65 (-771.0796, 303.4587)
  point P66 (-804.6796, 190.1567)
  point P67 (-564.55, 188.1567)
  point P68 (-554.95, 190.1567)
  point P69 (-254.95, 390.1567)
  point P70 (-470.8192, 512.2459)
  point P71 (-470.1334, 512.4183)
  dimension "d43" = 25.75
  dimension "diameter" = 100
  dimension "d8" = 26.1799
  dimension "d14" = 30
  dimension "d15" = 30
  dimension "d16" = 30
  dimension "d32" = 10.625
  dimension "d47" = 8
  dimension "d49" = 2
  dimension "d53" = 21.25
  dimension "d62" = 20.825
  dimension "d123" = 120
  dimension "d126" = 59.109
  dimension "d137" = 2
  dimension "d138" = 90
  dimension "d139" = 90
  dimension "d141" = 7.1
  dimension "d142" = 14
  dimension "d143" = 7.1
  dimension "d144" = 12
  dimension "d145" = 5
  dimension "d146" = 35
  dimension "d147" = 24
  dimension "hole" = 5
  dimension "d155" = 5
  dimension "d156" = 9
  dimension "d157" = 5
  dimension "d158" = 6
  dimension "d159" = 5
  dimension "d160" = 5
  dimension "d241" = 120.891
  dimension "d244" = 120
  dimension "d245" = 30
  dimension "d246" = 3
  dimension "d249" = 200
  dimension "d252" = 300
  dimension "d255" = 120
  dimension "d256" = 5.1701
  dimension "d259" = 0.5
  dimension "d260" = 0.5
  dimension "d261" = 120
  dimension "d262" = 120
  dimension "d264" = 5.1701
  dimension "d265" = 38
  dimension "d268" = 300
  dimension "d275" = 200
  dimension "d288" = 5.1701
  dimension "d289" = 5.1701
  dimension "d290" = 5.1701
  dimension "d291" = 5.1701
  dimension "d292" = 11.2
  dimension "d293" = 4
  dimension "d294" = 4
  dimension "d296" = 3
  dimension "d299" = 300
  dimension "d324" = 11.2
  dimension "d325" = 4
  dimension "d326" = 4
  dimension "d328" = 3
  dimension "d330" = 5
  dimension "d331" = 10
  dimension "d332" = 10
  dimension "d335" = 200
  dimension "d338" = 300
  dimension "d341" = 7.1
  dimension "d342" = 4.6
extrude "Extrusion3" add sketch "Sketch3" along normal blind 12 contours L142 L145 L181 L182 L183 L184 L185 L186 L187 L192 L193 A76 L194 A77 A68 L147 L149 L189 L155 L152 A70 L153 L154 L143 L144 A62 | A63 L270 | L270 L269 A63 | L269 A63 | A64 | A66 | A67 | A71 | A95
chamfer "Chamfer1" distance 2.5 angle 45 21 edges at (-481.3046, 429.0966, 12) (-494.1284, 420.5944, 12) (-495.0796, 402.6006, 12) (-471.0796, 470.7293, 12) (-477.1725, 518.3774, 12) (-472.9022, 507.549, 12) (-462.2571, 517.7277, 12) (-457.0796, 507.3151, 12) (-450.1038, 495.8266, 12) (-443.1744, 488.6686, 12) (-441.9335, 484.9139, 12) (-438.0384, 485.5959, 12) (-432.8689, 485.5155, 12) (-430.3073, 480.9981, 12) (-441.1084, 471.7771, 12) (-451.9095, 451.7705, 12) (-442.2939, 414.7858, 12) (-352.3298, 405.1701, 12) (-280.7504, 407.1705, 12) (-271.65, 419.1, 12) (-264.55, 400.0783, 12)
hole "Hole2" at (-464.0796, 503.4587, 0) at (-485.1284, 415.3983, 0) at (-447.0796, 398.1567, 0) at (-271.65, 394.0783, 0) at (-271.65, 412, 0) direction (0, 0, 1) diameter 5 depth 8 tip angle 118
thread "Thread1" size "M5x0.8" class "6H" standard "ANSI Metric M Profile" full length
thread "Thread2" size "M5x0.8" class "6H" standard "ANSI Metric M Profile" full length
thread "Thread4" size "M5x0.8" class "6H" standard "ANSI Metric M Profile" full length
thread "Thread5" size "M5x0.8" class "6H" standard "ANSI Metric M Profile" full length
thread "Thread6" size "M5x0.8" class "6H" standard "ANSI Metric M Profile" full length
sketch "Sketch7" plane through (-495.0796, 388.1567, 0) normal (0, -1, 0) x (1, 0, 0)
  circle A0 centre (208.4296, 6) radius 3
  circle A1 centre (28.9756, 6) radius 3
  line L0 (0, 0) -> (0, 12) construction
  line L1 (223.4296, -33.9407) -> (223.4296, 0) construction
  line L2 (230.5296, 0) -> (216.3296, 0) construction
  line L3 (225.9296, 0) -> (220.9296, 0) construction
  line L4 (223.4296, 0) -> (223.4296, 12) construction
  line L5 (48, -10.1332) -> (48, 0) construction
  line L6 (50.5, 0) -> (45.5, 0) construction
  line L7 (48, 12) -> (48, 0) construction
  line L8 (9.9512, -24.5506) -> (9.9512, 0) construction
  line L9 (12.4512, 0) -> (7.4512, 0) construction
  line L10 (9.9512, 0) -> (9.9512, 12) construction
  line L11 (48, 6) -> (9.9512, 6) construction
  line L12 (2.5, 12) -> (228.0296, 12) construction
  point P0 (0, 6)
  point P1 (28.9756, 6)
  dimension "d405" = 6
  dimension "d406" = 15
hole "Hole6" at (-466.104, 388.1567, 6) at (-286.65, 388.1567, 6) direction (0, 1, 0) diameter 6 depth 11 tip angle 118
thread "Thread7" size "M6x1" class "6H" standard "ANSI Metric M Profile" full length
thread "Thread8" size "M6x1" class "6H" standard "ANSI Metric M Profile" full length
properties part number "FRONTRAIL-V2"
